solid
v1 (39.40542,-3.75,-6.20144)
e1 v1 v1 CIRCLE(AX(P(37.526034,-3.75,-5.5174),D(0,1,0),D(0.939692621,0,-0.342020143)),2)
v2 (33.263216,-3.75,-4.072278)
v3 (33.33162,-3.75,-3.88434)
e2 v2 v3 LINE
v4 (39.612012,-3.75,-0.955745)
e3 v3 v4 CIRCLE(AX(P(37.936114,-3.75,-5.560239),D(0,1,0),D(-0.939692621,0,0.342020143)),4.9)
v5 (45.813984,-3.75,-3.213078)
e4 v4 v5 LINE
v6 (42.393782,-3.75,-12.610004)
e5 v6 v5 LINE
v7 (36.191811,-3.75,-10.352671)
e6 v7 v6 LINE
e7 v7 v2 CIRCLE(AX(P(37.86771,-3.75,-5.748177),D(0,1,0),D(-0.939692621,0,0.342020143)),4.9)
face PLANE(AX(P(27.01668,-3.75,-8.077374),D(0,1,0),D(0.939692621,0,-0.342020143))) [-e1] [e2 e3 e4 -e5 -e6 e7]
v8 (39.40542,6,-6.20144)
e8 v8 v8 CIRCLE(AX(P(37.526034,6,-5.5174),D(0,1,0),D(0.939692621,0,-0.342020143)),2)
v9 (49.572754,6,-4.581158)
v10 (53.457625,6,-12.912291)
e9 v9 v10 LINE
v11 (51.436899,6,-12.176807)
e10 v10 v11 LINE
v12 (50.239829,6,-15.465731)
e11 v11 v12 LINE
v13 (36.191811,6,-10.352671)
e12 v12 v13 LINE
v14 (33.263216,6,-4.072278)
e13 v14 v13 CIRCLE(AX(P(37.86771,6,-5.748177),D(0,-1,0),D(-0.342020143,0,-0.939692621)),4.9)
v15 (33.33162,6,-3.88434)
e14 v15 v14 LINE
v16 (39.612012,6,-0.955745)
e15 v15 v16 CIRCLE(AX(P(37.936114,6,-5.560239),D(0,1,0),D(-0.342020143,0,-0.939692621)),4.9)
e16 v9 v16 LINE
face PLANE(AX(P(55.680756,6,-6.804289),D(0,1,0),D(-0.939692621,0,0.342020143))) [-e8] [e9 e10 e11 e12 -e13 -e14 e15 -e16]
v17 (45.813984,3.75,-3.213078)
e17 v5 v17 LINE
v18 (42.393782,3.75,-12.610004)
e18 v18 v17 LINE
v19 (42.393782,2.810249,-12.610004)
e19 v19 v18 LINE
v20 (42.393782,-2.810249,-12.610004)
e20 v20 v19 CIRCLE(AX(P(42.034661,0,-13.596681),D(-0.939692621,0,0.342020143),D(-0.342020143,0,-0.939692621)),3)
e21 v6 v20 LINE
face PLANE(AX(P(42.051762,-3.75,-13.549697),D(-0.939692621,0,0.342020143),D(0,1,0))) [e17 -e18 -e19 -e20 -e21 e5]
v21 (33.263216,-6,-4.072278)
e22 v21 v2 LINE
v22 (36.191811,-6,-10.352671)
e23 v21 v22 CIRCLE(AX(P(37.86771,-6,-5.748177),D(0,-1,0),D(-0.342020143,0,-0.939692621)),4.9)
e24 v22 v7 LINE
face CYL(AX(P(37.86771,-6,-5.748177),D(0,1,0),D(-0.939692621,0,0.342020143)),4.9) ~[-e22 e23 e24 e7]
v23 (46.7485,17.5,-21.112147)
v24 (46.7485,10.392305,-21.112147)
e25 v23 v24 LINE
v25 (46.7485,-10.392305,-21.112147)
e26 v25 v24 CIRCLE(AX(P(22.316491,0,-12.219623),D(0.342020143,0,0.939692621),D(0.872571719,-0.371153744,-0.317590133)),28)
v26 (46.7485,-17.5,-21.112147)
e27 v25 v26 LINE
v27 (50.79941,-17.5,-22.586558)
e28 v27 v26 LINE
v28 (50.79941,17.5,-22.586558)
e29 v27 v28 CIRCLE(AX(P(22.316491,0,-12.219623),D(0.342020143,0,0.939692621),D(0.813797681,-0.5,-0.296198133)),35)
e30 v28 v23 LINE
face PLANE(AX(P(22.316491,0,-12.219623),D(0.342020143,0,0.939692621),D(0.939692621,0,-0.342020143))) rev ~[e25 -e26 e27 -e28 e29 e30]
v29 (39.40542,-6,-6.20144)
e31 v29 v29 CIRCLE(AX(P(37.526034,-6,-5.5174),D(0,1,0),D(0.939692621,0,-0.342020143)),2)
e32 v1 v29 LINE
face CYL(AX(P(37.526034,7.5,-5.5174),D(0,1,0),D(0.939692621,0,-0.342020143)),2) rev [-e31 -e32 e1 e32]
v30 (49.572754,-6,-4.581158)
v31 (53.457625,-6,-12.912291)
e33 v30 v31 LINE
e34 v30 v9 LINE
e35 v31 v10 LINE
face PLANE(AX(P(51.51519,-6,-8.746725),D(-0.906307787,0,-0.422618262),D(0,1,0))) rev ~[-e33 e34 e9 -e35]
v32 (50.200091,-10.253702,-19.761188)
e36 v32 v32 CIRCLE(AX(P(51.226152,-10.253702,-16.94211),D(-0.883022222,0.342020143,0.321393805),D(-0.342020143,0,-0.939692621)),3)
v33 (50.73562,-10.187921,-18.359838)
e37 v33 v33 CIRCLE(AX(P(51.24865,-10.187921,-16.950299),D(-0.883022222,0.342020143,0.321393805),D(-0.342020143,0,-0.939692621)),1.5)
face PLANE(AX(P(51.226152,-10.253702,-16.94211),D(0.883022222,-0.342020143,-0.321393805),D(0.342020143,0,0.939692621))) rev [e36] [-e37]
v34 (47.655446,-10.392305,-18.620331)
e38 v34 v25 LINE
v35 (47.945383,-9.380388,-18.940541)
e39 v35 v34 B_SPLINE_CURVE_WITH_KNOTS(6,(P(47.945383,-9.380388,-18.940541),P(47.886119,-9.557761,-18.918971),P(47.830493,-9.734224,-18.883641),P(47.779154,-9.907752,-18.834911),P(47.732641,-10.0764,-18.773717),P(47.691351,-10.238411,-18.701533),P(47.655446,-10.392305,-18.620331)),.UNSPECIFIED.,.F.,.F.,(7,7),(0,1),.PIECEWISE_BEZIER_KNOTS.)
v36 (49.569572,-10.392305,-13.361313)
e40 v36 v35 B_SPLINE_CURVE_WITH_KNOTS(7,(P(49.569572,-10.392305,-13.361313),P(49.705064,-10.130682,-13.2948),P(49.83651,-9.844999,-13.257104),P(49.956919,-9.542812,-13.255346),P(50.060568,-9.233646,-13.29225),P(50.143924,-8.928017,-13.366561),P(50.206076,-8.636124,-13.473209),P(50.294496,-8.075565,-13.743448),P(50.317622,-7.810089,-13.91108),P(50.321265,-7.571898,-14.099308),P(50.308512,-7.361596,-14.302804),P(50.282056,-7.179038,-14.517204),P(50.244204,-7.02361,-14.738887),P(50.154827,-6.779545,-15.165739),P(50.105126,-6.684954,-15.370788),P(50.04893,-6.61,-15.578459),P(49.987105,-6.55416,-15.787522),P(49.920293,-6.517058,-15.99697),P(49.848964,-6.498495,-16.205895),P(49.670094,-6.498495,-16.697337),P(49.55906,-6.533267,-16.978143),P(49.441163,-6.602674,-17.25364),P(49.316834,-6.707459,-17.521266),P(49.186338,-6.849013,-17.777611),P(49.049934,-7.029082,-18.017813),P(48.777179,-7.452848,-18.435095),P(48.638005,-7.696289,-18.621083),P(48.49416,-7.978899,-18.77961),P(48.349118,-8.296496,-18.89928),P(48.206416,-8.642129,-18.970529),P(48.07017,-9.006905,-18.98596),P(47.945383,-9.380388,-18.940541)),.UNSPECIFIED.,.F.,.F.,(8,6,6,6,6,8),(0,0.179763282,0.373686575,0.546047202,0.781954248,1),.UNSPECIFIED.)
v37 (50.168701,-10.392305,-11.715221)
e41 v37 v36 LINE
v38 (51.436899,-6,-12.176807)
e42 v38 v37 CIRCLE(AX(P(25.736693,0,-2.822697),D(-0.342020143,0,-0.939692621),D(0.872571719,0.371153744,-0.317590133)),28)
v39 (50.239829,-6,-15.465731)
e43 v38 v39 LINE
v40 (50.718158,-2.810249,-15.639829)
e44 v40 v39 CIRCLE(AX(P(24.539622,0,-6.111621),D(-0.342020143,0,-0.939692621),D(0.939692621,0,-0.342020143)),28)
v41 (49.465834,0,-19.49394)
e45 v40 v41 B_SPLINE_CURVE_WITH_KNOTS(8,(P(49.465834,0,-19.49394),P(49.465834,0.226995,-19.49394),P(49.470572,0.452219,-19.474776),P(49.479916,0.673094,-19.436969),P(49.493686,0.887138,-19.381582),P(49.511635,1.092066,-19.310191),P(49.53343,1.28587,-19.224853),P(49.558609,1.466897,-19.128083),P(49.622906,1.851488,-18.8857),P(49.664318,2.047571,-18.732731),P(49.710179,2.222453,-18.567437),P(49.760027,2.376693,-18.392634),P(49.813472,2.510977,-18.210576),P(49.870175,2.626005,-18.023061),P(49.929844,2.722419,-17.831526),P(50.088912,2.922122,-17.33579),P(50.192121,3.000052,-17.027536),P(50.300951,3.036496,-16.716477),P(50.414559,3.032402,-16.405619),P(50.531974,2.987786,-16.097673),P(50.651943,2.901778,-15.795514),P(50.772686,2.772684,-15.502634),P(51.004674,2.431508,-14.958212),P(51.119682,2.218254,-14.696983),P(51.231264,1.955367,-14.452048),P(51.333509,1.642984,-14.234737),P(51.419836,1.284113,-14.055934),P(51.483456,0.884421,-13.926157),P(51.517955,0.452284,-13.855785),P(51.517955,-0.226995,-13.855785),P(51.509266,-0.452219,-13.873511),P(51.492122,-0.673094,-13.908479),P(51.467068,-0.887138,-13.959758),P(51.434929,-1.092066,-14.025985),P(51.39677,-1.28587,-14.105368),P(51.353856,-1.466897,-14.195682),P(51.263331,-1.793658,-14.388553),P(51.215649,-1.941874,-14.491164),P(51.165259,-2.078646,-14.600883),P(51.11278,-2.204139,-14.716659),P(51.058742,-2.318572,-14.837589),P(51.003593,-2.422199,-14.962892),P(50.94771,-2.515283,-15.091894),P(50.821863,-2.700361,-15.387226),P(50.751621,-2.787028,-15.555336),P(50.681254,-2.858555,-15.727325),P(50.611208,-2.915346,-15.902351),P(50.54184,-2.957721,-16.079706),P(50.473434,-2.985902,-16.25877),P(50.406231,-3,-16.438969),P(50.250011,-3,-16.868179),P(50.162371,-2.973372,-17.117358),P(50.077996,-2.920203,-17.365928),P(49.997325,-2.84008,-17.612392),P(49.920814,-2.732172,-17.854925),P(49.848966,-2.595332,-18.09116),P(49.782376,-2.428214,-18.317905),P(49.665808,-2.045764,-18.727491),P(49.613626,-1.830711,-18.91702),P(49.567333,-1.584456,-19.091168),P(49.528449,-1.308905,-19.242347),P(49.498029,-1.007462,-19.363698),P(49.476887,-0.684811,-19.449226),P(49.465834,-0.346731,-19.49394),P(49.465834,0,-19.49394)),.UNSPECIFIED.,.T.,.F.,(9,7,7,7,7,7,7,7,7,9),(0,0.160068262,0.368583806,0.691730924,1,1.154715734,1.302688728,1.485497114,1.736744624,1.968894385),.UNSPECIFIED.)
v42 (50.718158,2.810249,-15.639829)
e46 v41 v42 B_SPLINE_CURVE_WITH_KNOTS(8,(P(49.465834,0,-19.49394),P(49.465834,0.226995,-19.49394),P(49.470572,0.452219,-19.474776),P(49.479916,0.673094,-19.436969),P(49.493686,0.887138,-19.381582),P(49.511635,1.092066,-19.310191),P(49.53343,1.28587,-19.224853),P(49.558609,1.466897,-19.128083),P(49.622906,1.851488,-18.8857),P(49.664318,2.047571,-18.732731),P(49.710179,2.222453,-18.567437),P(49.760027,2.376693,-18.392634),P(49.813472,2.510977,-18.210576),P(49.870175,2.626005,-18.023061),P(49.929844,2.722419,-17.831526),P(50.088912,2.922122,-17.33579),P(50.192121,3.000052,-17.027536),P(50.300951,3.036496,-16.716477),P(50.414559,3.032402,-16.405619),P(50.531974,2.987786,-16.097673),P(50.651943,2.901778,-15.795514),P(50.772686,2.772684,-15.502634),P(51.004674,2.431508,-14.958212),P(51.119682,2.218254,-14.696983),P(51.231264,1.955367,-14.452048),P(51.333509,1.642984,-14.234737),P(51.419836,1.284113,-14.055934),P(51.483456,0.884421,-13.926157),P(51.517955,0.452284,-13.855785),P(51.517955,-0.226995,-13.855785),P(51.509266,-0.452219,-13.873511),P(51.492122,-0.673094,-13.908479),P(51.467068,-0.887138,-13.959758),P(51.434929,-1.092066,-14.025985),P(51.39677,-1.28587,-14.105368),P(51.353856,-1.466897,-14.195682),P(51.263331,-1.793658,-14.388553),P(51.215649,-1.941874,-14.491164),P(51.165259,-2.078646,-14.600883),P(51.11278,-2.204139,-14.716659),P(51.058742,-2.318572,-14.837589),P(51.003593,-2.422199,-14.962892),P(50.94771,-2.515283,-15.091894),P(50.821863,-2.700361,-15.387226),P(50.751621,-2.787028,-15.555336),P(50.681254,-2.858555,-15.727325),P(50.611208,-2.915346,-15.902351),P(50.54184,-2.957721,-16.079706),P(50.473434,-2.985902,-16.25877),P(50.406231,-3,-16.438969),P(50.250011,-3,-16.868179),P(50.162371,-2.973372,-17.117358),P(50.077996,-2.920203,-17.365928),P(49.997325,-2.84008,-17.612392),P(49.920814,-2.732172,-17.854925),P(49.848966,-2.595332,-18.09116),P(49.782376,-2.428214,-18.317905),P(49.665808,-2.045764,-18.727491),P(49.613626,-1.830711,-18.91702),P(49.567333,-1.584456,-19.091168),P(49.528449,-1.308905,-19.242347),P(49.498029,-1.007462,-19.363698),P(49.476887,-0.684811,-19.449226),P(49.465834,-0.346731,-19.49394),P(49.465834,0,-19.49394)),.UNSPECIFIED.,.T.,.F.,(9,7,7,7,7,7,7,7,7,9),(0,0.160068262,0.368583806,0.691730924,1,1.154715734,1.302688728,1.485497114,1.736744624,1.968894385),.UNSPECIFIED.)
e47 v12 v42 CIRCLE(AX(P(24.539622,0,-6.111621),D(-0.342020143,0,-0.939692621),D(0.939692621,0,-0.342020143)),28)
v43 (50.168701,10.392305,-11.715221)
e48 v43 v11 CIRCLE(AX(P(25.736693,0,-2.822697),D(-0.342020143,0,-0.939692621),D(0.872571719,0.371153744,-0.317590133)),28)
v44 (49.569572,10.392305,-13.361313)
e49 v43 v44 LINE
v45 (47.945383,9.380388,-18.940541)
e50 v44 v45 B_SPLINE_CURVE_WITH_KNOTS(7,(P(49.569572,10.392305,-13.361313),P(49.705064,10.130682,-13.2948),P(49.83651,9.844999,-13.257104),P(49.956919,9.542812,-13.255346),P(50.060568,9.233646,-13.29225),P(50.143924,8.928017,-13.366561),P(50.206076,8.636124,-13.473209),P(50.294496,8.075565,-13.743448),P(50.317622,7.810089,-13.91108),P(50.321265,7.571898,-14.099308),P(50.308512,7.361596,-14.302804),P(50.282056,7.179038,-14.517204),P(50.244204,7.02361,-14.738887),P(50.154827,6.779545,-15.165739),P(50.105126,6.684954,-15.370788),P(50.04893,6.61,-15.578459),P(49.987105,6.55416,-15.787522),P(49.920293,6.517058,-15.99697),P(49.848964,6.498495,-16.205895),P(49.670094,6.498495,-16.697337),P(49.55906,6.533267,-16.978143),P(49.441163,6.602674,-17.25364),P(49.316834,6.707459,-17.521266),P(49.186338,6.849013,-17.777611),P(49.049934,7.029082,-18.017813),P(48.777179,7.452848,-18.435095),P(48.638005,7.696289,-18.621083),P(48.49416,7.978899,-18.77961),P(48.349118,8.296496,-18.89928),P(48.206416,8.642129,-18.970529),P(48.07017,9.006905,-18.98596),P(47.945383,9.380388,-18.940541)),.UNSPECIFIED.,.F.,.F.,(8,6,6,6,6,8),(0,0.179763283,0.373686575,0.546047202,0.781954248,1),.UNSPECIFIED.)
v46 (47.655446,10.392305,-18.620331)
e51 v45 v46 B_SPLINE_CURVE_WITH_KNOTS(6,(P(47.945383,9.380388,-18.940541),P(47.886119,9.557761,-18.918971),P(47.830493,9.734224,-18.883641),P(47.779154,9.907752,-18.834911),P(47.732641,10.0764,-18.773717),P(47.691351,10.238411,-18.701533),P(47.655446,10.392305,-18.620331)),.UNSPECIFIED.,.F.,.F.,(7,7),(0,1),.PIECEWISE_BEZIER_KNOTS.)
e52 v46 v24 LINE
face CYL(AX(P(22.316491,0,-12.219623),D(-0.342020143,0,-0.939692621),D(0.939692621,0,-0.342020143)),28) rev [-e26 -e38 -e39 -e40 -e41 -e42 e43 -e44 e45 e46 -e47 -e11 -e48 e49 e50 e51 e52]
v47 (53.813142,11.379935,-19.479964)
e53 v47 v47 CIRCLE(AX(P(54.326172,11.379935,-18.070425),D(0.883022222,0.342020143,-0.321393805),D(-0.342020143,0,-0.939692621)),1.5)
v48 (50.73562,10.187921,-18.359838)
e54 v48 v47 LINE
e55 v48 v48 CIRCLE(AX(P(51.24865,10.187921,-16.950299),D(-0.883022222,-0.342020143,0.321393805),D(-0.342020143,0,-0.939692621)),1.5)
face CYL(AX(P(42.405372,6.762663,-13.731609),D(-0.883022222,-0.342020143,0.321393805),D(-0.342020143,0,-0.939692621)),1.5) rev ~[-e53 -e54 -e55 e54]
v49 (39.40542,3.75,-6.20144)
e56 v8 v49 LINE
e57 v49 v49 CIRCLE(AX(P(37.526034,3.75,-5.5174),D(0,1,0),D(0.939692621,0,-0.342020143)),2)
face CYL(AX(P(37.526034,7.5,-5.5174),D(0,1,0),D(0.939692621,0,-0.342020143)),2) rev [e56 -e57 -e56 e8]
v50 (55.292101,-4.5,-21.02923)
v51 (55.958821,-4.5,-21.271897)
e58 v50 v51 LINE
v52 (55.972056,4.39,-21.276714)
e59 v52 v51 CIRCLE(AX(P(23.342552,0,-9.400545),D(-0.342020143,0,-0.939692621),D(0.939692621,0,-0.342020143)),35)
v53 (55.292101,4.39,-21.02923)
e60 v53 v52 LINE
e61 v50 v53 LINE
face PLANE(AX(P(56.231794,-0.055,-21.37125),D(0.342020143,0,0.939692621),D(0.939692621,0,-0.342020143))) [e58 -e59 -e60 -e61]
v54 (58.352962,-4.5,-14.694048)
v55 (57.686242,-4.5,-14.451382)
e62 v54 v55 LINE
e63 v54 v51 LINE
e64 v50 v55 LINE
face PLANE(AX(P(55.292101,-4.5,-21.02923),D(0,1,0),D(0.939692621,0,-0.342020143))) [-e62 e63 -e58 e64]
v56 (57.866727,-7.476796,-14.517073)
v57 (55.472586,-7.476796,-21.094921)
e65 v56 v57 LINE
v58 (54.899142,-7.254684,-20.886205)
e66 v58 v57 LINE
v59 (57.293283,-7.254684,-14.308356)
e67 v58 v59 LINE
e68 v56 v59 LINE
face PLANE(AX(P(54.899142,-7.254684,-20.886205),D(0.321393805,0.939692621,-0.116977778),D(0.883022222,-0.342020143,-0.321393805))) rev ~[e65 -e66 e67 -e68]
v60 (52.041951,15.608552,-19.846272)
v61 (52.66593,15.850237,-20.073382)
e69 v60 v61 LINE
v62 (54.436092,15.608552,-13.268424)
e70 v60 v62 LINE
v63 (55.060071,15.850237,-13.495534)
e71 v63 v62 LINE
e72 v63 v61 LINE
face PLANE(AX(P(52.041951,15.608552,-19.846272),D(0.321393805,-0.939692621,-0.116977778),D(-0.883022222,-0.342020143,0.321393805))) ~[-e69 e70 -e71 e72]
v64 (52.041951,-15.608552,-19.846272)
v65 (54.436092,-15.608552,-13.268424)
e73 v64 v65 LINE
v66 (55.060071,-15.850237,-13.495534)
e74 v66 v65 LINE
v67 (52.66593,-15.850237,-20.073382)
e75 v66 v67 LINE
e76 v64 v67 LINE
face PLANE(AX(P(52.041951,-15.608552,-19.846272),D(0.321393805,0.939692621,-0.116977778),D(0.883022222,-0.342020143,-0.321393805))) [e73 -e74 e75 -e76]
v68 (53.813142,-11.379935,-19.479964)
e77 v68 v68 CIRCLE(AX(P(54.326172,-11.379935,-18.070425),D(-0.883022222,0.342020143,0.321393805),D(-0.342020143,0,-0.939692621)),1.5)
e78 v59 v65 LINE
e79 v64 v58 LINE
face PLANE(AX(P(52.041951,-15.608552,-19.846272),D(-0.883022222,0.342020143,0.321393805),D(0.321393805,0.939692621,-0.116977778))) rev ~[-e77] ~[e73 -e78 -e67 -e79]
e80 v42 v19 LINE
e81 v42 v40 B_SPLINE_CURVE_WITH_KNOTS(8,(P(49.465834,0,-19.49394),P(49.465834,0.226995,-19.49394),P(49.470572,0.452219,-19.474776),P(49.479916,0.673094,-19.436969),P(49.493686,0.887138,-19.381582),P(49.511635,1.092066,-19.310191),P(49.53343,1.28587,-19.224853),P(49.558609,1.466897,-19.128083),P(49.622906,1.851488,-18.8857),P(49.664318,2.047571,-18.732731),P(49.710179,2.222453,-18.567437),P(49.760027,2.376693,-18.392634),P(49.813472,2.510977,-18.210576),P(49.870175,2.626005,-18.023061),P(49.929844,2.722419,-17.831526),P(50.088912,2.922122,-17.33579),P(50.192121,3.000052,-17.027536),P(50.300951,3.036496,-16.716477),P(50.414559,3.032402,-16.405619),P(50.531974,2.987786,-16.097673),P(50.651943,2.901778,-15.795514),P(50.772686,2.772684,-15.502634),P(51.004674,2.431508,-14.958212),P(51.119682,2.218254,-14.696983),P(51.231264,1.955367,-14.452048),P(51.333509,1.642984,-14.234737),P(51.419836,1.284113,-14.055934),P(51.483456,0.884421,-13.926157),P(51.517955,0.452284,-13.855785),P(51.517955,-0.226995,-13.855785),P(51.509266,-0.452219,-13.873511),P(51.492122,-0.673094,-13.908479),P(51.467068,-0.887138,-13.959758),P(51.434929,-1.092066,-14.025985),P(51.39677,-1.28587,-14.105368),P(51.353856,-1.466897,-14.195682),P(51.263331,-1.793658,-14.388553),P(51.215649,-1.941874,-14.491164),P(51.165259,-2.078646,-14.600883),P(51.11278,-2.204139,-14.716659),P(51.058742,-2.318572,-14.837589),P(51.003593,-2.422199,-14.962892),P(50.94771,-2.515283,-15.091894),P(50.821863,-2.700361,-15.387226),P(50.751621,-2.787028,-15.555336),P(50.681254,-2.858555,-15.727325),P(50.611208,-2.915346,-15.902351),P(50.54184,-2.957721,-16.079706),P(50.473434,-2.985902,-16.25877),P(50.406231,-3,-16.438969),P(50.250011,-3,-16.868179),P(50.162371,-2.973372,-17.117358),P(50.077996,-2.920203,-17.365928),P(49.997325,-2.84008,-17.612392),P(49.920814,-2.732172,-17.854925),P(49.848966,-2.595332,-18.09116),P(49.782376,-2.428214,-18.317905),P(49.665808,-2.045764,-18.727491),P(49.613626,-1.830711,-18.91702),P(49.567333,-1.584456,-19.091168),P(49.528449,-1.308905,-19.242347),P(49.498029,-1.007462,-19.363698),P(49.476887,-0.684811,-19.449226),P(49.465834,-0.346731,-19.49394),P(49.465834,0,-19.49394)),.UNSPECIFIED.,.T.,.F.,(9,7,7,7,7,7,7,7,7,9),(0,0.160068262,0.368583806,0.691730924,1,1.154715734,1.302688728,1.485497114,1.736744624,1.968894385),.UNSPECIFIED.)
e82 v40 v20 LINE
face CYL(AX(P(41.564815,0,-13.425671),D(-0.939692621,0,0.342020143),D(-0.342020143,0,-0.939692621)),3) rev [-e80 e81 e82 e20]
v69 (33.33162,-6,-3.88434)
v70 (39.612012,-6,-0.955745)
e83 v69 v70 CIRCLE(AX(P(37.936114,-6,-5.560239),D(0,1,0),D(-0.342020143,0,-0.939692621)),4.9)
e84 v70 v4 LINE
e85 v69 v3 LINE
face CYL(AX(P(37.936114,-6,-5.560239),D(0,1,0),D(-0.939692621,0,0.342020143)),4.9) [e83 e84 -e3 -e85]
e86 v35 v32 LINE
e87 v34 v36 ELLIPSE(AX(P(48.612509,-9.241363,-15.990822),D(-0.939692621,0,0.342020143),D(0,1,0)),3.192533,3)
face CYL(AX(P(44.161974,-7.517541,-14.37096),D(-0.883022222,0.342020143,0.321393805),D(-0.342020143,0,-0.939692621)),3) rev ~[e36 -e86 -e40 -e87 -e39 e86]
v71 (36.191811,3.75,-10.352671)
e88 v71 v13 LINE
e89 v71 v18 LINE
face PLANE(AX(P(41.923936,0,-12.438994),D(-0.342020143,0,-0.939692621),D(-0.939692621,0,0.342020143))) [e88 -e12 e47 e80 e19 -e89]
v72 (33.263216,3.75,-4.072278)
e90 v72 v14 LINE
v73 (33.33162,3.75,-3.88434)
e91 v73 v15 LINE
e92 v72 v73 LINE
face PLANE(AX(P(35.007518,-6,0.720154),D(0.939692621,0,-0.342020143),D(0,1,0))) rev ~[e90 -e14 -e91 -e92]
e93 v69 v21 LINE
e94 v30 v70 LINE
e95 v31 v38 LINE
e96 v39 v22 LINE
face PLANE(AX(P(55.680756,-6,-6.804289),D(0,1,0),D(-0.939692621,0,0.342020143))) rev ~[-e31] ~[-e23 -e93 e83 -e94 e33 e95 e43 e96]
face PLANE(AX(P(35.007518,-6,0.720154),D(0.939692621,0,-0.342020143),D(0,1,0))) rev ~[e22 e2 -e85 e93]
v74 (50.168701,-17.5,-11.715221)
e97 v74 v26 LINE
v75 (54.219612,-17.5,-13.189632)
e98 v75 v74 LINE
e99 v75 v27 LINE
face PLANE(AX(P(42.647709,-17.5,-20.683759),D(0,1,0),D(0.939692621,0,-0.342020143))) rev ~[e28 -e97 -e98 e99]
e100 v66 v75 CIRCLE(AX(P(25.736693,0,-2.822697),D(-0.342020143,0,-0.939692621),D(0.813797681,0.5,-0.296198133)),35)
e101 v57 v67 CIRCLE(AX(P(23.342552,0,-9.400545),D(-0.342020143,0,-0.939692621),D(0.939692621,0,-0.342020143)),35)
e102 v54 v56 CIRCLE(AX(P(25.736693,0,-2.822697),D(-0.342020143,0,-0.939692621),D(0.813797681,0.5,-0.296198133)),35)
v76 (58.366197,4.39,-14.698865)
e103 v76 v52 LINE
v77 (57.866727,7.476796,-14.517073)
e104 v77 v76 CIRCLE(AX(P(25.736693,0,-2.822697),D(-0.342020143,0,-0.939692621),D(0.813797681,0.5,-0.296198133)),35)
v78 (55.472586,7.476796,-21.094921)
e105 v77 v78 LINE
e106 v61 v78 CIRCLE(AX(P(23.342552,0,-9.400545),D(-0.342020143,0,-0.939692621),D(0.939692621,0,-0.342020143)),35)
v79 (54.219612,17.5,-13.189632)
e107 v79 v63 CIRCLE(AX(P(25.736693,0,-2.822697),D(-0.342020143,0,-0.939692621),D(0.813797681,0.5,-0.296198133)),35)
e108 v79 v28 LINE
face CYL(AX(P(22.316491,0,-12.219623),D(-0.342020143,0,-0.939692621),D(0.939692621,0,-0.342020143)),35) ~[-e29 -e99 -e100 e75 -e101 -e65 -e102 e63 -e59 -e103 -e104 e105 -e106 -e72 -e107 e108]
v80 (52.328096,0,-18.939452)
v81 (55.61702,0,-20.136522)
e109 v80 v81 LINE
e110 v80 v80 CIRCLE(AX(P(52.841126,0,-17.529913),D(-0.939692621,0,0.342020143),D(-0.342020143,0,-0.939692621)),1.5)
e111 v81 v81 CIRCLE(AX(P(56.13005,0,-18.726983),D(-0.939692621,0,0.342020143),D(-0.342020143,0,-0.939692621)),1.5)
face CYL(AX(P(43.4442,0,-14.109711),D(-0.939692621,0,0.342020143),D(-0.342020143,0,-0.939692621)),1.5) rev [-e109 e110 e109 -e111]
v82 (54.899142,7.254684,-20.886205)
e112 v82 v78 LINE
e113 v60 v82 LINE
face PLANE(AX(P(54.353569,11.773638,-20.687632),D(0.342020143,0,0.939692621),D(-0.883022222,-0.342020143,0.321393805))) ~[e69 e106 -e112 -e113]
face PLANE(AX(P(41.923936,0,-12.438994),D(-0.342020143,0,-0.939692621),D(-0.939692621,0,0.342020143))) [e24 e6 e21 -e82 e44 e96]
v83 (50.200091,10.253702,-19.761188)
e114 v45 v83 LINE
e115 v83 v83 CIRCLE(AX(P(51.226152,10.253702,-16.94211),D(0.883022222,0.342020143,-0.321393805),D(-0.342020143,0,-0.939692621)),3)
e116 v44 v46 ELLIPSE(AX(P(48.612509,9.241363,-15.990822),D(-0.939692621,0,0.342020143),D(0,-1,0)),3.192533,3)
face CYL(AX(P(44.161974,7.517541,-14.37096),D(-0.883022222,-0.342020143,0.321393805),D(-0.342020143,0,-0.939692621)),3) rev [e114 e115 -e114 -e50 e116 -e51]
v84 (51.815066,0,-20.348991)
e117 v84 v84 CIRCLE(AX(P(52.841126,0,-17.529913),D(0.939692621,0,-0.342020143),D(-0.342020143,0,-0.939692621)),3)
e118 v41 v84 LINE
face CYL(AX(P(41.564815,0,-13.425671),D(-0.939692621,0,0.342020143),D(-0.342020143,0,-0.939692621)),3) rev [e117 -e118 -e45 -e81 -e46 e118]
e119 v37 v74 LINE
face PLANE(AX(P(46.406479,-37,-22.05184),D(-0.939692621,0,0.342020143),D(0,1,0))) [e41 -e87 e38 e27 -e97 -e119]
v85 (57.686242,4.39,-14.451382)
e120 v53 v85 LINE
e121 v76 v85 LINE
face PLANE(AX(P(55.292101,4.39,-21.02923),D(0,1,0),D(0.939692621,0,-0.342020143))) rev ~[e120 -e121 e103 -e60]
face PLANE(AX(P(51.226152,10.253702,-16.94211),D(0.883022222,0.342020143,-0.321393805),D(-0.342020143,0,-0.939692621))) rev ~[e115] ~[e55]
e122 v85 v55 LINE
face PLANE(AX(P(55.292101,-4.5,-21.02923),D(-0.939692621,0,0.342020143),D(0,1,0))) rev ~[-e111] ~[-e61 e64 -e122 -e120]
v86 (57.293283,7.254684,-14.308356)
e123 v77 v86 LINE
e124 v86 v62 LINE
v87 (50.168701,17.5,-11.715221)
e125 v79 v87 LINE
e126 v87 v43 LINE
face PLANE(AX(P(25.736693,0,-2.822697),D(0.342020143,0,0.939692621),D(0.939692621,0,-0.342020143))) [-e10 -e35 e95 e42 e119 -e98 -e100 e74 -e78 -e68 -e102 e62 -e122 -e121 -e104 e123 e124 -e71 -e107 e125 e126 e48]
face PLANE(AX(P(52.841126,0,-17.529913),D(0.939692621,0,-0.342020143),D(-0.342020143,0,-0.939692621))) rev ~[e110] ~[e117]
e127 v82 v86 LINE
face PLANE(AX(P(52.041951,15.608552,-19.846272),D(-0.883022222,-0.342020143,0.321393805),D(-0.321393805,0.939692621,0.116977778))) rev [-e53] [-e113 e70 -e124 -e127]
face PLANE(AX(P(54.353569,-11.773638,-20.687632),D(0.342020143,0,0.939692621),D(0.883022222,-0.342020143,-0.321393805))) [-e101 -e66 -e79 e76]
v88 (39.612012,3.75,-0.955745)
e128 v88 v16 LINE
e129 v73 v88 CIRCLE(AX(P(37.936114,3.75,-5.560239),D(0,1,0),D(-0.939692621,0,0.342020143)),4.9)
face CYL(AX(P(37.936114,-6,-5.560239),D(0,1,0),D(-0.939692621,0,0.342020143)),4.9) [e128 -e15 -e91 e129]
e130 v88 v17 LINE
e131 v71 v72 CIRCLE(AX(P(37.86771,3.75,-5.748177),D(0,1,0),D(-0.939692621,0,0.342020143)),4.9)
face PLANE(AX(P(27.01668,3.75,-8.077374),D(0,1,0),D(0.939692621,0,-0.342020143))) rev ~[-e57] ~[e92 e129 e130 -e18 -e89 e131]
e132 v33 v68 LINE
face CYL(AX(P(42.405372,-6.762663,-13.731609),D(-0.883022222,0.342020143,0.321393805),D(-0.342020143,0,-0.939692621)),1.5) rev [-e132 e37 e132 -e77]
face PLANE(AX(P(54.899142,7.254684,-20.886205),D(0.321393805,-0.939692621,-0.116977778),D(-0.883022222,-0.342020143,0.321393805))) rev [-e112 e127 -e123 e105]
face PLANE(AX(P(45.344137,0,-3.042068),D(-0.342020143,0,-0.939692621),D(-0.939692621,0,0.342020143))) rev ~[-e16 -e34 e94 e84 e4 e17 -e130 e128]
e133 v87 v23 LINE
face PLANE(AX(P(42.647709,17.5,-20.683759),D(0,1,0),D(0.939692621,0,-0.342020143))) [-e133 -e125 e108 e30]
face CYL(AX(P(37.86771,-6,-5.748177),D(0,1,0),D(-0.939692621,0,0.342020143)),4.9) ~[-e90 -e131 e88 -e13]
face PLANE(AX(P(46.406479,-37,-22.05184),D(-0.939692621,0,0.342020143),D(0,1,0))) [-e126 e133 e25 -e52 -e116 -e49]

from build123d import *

# Parameters (mm, degrees)
CYLINDER282_R               = 3
CYLINDER282_DEPTH           = 12
BOX184_W                    = 16
BOX184_H                    = 7.5
BOX184_DEPTH                = 12
CYLINDER271_R               = 2
CYLINDER271_DEPTH           = 15
BOX185_W                    = 22
BOX185_H                    = 12
BOX185_DEPTH                = 10
FILLET120_R                 = 4.9
FILLET120_PLACEMENT_ANGLE   = 180
CHAMFER035_SIZE             = 6.5
CYLINDER275_R               = 1.5
CYLINDER275_DEPTH           = 18
BOX194_W                    = 2
BOX194_H                    = 8.89
BOX194_DEPTH                = 21.59
FUSION188_PLACEMENT_ANGLE   = 20
CYLINDER276_R               = 1.5
CYLINDER276_DEPTH           = 18
BOX195_W                    = 2
BOX195_H                    = 8.89
BOX195_DEPTH                = 21.59
FUSION189_PLACEMENT_ANGLE   = 20
CYLINDER272_R               = 1.5
CYLINDER272_DEPTH           = 18
BOX186_W                    = 2
BOX186_H                    = 8.89
BOX186_DEPTH                = 21.59
CYLINDER280_R               = 3
CYLINDER280_DEPTH           = 12
CYLINDER281_R               = 3
CYLINDER281_DEPTH           = 8
CYLINDER281_PITCH_ANGLE     = 90
CYLINDER281_PLACEMENT_ANGLE = 20
CYLINDER279_R               = 3
CYLINDER279_DEPTH           = 8
CYLINDER279_PITCH_ANGLE     = 90
CYLINDER279_PLACEMENT_ANGLE = 20
BOX190_W                    = 10
BOX190_H                    = 10
BOX190_DEPTH                = 12
BOX191_W                    = 10
BOX191_H                    = 10
BOX191_DEPTH                = 12
BOX189_W                    = 62
BOX189_H                    = 73
BOX189_DEPTH                = 12
TUBE_R                      = 35
TUBE_R_2                    = 28
TUBE_DEPTH                  = 10
FUSION196_PLACEMENT_ANGLE   = 20


with BuildPart() as zylinder284:
    # Cylinder282 → Cylinder282 (new body)
    with BuildSketch(Plane(origin=(44, 0, -11.55), x_dir=(0, 0, -1), z_dir=(1, 0, 0))):
        Circle(CYLINDER282_R)
    extrude(amount=CYLINDER282_DEPTH)


with BuildPart() as w_rfel173:
    # Box184 → Box184 (new body)
    with BuildSketch(Plane(origin=(28.5, -3.75, -11.5), x_dir=(1, 0, 0), z_dir=(0, 0, 1))):
        with Locations((8, 3.75)):
            Rectangle(BOX184_W, BOX184_H)
    extrude(amount=BOX184_DEPTH)


with BuildPart() as fusion185:
    # Cylinder271 → Cylinder271 (new body)
    with BuildSketch(Plane(origin=(37.5, 7.5, -5.5), x_dir=(1, 0, 0), z_dir=(0, -1, 0))):
        Circle(CYLINDER271_R)
    extrude(amount=CYLINDER271_DEPTH)

    # Fusion185: union Würfel173
    add(w_rfel173.part)


with BuildPart() as cut132:
    # Box185 → Box185 (new body)
    with BuildSketch(Plane(origin=(27, -3.5, -10.5), x_dir=(1, 0, 0), z_dir=(0, 0, 1))):
        with Locations((11, 6)):
            Rectangle(BOX185_W, BOX185_H)
    extrude(amount=BOX185_DEPTH)

    # Fillet120
    fillet120_edges = [cut132.edges().sort_by_distance(p)[0] for p in [
        (49, 2.5, -0.5),
        (49, 2.5, -10.5),
    ]]
    fillet(fillet120_edges, radius=FILLET120_R)


with BuildPart() as cut132_1:
    # Fillet120 placement: moved
    add(cut132.part.moved(Location((82, -2.5, -11))).rotate(Axis((82, -2.5, -11), (0, 1, 0)), FILLET120_PLACEMENT_ANGLE))

    # Cut122: cut Fusion185
    add(fusion185.part, mode=Mode.SUBTRACT)

    # Chamfer035
    chamfer035_edges = [cut132_1.edges().sort_by_distance(p)[0] for p in [
        (55, 0, -0.5),
    ]]
    chamfer(chamfer035_edges, length=CHAMFER035_SIZE)

    # Cut132: cut Zylinder284
    add(zylinder284.part, mode=Mode.SUBTRACT)


with BuildPart() as zylinder277:
    # Cylinder275 → Cylinder275 (new body)
    with BuildSketch(Plane(origin=(48, 0, -11.55), x_dir=(0, 0, -1), z_dir=(1, 0, 0))):
        Circle(CYLINDER275_R)
    extrude(amount=CYLINDER275_DEPTH)


with BuildPart() as fusion188:
    # Box194 → Box194 (new body)
    with BuildSketch(Plane(origin=(61.5, -4.5, -14), x_dir=(1, 0, 0), z_dir=(0, 0, 1))):
        with Locations((1, 4.445)):
            Rectangle(BOX194_W, BOX194_H)
    extrude(amount=BOX194_DEPTH)

    # Fusion188: union Zylinder277
    add(zylinder277.part)


with BuildPart() as fusion188_1:
    # Fusion188 placement: moved
    add(fusion188.part.moved(Location((-0.210743, 9.654304, 0))).rotate(Axis((-0.210743, 9.654304, 0), (0, 0, -1)), FUSION188_PLACEMENT_ANGLE))


with BuildPart() as zylinder278:
    # Cylinder276 → Cylinder276 (new body)
    with BuildSketch(Plane(origin=(48, 0, -11.55), x_dir=(0, 0, -1), z_dir=(1, 0, 0))):
        Circle(CYLINDER276_R)
    extrude(amount=CYLINDER276_DEPTH)


with BuildPart() as fusion189:
    # Box195 → Box195 (new body)
    with BuildSketch(Plane(origin=(61.5, -4.5, -14), x_dir=(1, 0, 0), z_dir=(0, 0, 1))):
        with Locations((1, 4.445)):
            Rectangle(BOX195_W, BOX195_H)
    extrude(amount=BOX195_DEPTH)

    # Fusion189: union Zylinder278
    add(zylinder278.part)


with BuildPart() as fusion189_1:
    # Fusion189 placement: moved
    add(fusion189.part.moved(Location((-0.210743, 9.654304, 0))).rotate(Axis((-0.210743, 9.654304, 0), (0, 0, -1)), FUSION189_PLACEMENT_ANGLE))


with BuildPart() as part_mirroring007:
    # Part__Mirroring007: instance of Fusion189
    add(fusion189_1.part.mirror(Plane(origin=(0, 0, 0), x_dir=(1, 0, 0), z_dir=(0, 1, 0))))


with BuildPart() as zylinder274:
    # Cylinder272 → Cylinder272 (new body)
    with BuildSketch(Plane(origin=(48, 0, -11.55), x_dir=(0, 0, -1), z_dir=(1, 0, 0))):
        Circle(CYLINDER272_R)
    extrude(amount=CYLINDER272_DEPTH)


with BuildPart() as fusion193:
    # Box186 → Box186 (new body)
    with BuildSketch(Plane(origin=(61.5, -4.5, -14), x_dir=(1, 0, 0), z_dir=(0, 0, 1))):
        with Locations((1, 4.445)):
            Rectangle(BOX186_W, BOX186_H)
    extrude(amount=BOX186_DEPTH)

    # Fusion187: union Zylinder274
    add(zylinder274.part)


with BuildPart() as fusion193_1:
    # Fusion187 placement: moved
    add(fusion193.part.moved(Location((-2, 0, 0))))

    # Fusion193: union Fusion188, Part__Mirroring007
    add(fusion188_1.part)
    add(part_mirroring007.part)


with BuildPart() as zylinder282:
    # Cylinder280 → Cylinder280 (new body)
    with BuildSketch(Plane(origin=(44, 0, -11.55), x_dir=(0, 0, -1), z_dir=(1, 0, 0))):
        Circle(CYLINDER280_R)
    extrude(amount=CYLINDER280_DEPTH)


with BuildPart() as zylinder283:
    # Cylinder281 → Cylinder281 (new body)
    with BuildSketch(Plane.XY):
        Circle(CYLINDER281_R)
    extrude(amount=CYLINDER281_DEPTH)


with BuildPart() as zylinder283_1:
    # Cylinder281 pitch: moved
    add(zylinder283.part.rotate(Axis((0, 0, 0), (0, 1, 0)), CYLINDER281_PITCH_ANGLE))


with BuildPart() as zylinder283_2:
    # Cylinder281 placement: moved
    add(zylinder283_1.part.moved(Location((46.763839, 7.517541, -11.55))).rotate(Axis((46.763839, 7.517541, -11.55), (0, 0, 1)), CYLINDER281_PLACEMENT_ANGLE))


with BuildPart() as zylinder281:
    # Cylinder279 → Cylinder279 (new body)
    with BuildSketch(Plane.XY):
        Circle(CYLINDER279_R)
    extrude(amount=CYLINDER279_DEPTH)


with BuildPart() as zylinder281_1:
    # Cylinder279 pitch: moved
    add(zylinder281.part.rotate(Axis((0, 0, 0), (0, 1, 0)), CYLINDER279_PITCH_ANGLE))


with BuildPart() as zylinder281_2:
    # Cylinder279 placement: moved
    add(zylinder281_1.part.moved(Location((46.763839, 7.517541, -11.55))).rotate(Axis((46.763839, 7.517541, -11.55), (0, 0, 1)), CYLINDER279_PLACEMENT_ANGLE))


with BuildPart() as fusion195:
    # Part__Mirroring009: instance of Zylinder281
    add(zylinder281_2.part.mirror(Plane(origin=(0, 0, 0), x_dir=(1, 0, 0), z_dir=(0, 1, 0))))

    # Fusion195: union Zylinder282, Zylinder283
    add(zylinder282.part)
    add(zylinder283_2.part)


with BuildPart() as w_rfel179:
    # Box190 → Box190 (new body)
    with BuildSketch(Plane(origin=(47.5, -27.5, -18), x_dir=(1, 0, 0), z_dir=(0, 0, 1))):
        with Locations((5, 5)):
            Rectangle(BOX190_W, BOX190_H)
    extrude(amount=BOX190_DEPTH)


with BuildPart() as w_rfel180:
    # Box191 → Box191 (new body)
    with BuildSketch(Plane(origin=(47.5, 17.5, -18), x_dir=(1, 0, 0), z_dir=(0, 0, 1))):
        with Locations((5, 5)):
            Rectangle(BOX191_W, BOX191_H)
    extrude(amount=BOX191_DEPTH)


with BuildPart() as fusion186:
    # Box189 → Box189 (new body)
    with BuildSketch(Plane(origin=(-10.5, -37, -18), x_dir=(1, 0, 0), z_dir=(0, 0, 1))):
        with Locations((31, 36.5)):
            Rectangle(BOX189_W, BOX189_H)
    extrude(amount=BOX189_DEPTH)

    # Fusion186: union Würfel179, Würfel180
    add(w_rfel179.part)
    add(w_rfel180.part)


with BuildPart() as sensor_tof:
    # Tube → Tube (new body)
    with BuildSketch(Plane(origin=(25.5, 0, -17), x_dir=(1, 0, 0), z_dir=(0, 0, 1))):
        Circle(TUBE_R)
        Circle(TUBE_R_2, mode=Mode.SUBTRACT)
    extrude(amount=TUBE_DEPTH)

    # Cut126: cut Fusion186
    add(fusion186.part, mode=Mode.SUBTRACT)

    # Cut130: cut Fusion195
    add(fusion195.part, mode=Mode.SUBTRACT)

    # Cut131: cut Fusion193
    add(fusion193_1.part, mode=Mode.SUBTRACT)

    # Fusion196: union Cut132
    add(cut132_1.part)


with BuildPart() as sensor_tof_1:
    # Fusion196 placement: moved
    add(sensor_tof.part.moved(Location((4.168672, 0, 12.476665))).rotate(Axis((4.168672, 0, 12.476665), (0, 1, 0)), FUSION196_PLACEMENT_ANGLE))


solid = sensor_tof_1.part
